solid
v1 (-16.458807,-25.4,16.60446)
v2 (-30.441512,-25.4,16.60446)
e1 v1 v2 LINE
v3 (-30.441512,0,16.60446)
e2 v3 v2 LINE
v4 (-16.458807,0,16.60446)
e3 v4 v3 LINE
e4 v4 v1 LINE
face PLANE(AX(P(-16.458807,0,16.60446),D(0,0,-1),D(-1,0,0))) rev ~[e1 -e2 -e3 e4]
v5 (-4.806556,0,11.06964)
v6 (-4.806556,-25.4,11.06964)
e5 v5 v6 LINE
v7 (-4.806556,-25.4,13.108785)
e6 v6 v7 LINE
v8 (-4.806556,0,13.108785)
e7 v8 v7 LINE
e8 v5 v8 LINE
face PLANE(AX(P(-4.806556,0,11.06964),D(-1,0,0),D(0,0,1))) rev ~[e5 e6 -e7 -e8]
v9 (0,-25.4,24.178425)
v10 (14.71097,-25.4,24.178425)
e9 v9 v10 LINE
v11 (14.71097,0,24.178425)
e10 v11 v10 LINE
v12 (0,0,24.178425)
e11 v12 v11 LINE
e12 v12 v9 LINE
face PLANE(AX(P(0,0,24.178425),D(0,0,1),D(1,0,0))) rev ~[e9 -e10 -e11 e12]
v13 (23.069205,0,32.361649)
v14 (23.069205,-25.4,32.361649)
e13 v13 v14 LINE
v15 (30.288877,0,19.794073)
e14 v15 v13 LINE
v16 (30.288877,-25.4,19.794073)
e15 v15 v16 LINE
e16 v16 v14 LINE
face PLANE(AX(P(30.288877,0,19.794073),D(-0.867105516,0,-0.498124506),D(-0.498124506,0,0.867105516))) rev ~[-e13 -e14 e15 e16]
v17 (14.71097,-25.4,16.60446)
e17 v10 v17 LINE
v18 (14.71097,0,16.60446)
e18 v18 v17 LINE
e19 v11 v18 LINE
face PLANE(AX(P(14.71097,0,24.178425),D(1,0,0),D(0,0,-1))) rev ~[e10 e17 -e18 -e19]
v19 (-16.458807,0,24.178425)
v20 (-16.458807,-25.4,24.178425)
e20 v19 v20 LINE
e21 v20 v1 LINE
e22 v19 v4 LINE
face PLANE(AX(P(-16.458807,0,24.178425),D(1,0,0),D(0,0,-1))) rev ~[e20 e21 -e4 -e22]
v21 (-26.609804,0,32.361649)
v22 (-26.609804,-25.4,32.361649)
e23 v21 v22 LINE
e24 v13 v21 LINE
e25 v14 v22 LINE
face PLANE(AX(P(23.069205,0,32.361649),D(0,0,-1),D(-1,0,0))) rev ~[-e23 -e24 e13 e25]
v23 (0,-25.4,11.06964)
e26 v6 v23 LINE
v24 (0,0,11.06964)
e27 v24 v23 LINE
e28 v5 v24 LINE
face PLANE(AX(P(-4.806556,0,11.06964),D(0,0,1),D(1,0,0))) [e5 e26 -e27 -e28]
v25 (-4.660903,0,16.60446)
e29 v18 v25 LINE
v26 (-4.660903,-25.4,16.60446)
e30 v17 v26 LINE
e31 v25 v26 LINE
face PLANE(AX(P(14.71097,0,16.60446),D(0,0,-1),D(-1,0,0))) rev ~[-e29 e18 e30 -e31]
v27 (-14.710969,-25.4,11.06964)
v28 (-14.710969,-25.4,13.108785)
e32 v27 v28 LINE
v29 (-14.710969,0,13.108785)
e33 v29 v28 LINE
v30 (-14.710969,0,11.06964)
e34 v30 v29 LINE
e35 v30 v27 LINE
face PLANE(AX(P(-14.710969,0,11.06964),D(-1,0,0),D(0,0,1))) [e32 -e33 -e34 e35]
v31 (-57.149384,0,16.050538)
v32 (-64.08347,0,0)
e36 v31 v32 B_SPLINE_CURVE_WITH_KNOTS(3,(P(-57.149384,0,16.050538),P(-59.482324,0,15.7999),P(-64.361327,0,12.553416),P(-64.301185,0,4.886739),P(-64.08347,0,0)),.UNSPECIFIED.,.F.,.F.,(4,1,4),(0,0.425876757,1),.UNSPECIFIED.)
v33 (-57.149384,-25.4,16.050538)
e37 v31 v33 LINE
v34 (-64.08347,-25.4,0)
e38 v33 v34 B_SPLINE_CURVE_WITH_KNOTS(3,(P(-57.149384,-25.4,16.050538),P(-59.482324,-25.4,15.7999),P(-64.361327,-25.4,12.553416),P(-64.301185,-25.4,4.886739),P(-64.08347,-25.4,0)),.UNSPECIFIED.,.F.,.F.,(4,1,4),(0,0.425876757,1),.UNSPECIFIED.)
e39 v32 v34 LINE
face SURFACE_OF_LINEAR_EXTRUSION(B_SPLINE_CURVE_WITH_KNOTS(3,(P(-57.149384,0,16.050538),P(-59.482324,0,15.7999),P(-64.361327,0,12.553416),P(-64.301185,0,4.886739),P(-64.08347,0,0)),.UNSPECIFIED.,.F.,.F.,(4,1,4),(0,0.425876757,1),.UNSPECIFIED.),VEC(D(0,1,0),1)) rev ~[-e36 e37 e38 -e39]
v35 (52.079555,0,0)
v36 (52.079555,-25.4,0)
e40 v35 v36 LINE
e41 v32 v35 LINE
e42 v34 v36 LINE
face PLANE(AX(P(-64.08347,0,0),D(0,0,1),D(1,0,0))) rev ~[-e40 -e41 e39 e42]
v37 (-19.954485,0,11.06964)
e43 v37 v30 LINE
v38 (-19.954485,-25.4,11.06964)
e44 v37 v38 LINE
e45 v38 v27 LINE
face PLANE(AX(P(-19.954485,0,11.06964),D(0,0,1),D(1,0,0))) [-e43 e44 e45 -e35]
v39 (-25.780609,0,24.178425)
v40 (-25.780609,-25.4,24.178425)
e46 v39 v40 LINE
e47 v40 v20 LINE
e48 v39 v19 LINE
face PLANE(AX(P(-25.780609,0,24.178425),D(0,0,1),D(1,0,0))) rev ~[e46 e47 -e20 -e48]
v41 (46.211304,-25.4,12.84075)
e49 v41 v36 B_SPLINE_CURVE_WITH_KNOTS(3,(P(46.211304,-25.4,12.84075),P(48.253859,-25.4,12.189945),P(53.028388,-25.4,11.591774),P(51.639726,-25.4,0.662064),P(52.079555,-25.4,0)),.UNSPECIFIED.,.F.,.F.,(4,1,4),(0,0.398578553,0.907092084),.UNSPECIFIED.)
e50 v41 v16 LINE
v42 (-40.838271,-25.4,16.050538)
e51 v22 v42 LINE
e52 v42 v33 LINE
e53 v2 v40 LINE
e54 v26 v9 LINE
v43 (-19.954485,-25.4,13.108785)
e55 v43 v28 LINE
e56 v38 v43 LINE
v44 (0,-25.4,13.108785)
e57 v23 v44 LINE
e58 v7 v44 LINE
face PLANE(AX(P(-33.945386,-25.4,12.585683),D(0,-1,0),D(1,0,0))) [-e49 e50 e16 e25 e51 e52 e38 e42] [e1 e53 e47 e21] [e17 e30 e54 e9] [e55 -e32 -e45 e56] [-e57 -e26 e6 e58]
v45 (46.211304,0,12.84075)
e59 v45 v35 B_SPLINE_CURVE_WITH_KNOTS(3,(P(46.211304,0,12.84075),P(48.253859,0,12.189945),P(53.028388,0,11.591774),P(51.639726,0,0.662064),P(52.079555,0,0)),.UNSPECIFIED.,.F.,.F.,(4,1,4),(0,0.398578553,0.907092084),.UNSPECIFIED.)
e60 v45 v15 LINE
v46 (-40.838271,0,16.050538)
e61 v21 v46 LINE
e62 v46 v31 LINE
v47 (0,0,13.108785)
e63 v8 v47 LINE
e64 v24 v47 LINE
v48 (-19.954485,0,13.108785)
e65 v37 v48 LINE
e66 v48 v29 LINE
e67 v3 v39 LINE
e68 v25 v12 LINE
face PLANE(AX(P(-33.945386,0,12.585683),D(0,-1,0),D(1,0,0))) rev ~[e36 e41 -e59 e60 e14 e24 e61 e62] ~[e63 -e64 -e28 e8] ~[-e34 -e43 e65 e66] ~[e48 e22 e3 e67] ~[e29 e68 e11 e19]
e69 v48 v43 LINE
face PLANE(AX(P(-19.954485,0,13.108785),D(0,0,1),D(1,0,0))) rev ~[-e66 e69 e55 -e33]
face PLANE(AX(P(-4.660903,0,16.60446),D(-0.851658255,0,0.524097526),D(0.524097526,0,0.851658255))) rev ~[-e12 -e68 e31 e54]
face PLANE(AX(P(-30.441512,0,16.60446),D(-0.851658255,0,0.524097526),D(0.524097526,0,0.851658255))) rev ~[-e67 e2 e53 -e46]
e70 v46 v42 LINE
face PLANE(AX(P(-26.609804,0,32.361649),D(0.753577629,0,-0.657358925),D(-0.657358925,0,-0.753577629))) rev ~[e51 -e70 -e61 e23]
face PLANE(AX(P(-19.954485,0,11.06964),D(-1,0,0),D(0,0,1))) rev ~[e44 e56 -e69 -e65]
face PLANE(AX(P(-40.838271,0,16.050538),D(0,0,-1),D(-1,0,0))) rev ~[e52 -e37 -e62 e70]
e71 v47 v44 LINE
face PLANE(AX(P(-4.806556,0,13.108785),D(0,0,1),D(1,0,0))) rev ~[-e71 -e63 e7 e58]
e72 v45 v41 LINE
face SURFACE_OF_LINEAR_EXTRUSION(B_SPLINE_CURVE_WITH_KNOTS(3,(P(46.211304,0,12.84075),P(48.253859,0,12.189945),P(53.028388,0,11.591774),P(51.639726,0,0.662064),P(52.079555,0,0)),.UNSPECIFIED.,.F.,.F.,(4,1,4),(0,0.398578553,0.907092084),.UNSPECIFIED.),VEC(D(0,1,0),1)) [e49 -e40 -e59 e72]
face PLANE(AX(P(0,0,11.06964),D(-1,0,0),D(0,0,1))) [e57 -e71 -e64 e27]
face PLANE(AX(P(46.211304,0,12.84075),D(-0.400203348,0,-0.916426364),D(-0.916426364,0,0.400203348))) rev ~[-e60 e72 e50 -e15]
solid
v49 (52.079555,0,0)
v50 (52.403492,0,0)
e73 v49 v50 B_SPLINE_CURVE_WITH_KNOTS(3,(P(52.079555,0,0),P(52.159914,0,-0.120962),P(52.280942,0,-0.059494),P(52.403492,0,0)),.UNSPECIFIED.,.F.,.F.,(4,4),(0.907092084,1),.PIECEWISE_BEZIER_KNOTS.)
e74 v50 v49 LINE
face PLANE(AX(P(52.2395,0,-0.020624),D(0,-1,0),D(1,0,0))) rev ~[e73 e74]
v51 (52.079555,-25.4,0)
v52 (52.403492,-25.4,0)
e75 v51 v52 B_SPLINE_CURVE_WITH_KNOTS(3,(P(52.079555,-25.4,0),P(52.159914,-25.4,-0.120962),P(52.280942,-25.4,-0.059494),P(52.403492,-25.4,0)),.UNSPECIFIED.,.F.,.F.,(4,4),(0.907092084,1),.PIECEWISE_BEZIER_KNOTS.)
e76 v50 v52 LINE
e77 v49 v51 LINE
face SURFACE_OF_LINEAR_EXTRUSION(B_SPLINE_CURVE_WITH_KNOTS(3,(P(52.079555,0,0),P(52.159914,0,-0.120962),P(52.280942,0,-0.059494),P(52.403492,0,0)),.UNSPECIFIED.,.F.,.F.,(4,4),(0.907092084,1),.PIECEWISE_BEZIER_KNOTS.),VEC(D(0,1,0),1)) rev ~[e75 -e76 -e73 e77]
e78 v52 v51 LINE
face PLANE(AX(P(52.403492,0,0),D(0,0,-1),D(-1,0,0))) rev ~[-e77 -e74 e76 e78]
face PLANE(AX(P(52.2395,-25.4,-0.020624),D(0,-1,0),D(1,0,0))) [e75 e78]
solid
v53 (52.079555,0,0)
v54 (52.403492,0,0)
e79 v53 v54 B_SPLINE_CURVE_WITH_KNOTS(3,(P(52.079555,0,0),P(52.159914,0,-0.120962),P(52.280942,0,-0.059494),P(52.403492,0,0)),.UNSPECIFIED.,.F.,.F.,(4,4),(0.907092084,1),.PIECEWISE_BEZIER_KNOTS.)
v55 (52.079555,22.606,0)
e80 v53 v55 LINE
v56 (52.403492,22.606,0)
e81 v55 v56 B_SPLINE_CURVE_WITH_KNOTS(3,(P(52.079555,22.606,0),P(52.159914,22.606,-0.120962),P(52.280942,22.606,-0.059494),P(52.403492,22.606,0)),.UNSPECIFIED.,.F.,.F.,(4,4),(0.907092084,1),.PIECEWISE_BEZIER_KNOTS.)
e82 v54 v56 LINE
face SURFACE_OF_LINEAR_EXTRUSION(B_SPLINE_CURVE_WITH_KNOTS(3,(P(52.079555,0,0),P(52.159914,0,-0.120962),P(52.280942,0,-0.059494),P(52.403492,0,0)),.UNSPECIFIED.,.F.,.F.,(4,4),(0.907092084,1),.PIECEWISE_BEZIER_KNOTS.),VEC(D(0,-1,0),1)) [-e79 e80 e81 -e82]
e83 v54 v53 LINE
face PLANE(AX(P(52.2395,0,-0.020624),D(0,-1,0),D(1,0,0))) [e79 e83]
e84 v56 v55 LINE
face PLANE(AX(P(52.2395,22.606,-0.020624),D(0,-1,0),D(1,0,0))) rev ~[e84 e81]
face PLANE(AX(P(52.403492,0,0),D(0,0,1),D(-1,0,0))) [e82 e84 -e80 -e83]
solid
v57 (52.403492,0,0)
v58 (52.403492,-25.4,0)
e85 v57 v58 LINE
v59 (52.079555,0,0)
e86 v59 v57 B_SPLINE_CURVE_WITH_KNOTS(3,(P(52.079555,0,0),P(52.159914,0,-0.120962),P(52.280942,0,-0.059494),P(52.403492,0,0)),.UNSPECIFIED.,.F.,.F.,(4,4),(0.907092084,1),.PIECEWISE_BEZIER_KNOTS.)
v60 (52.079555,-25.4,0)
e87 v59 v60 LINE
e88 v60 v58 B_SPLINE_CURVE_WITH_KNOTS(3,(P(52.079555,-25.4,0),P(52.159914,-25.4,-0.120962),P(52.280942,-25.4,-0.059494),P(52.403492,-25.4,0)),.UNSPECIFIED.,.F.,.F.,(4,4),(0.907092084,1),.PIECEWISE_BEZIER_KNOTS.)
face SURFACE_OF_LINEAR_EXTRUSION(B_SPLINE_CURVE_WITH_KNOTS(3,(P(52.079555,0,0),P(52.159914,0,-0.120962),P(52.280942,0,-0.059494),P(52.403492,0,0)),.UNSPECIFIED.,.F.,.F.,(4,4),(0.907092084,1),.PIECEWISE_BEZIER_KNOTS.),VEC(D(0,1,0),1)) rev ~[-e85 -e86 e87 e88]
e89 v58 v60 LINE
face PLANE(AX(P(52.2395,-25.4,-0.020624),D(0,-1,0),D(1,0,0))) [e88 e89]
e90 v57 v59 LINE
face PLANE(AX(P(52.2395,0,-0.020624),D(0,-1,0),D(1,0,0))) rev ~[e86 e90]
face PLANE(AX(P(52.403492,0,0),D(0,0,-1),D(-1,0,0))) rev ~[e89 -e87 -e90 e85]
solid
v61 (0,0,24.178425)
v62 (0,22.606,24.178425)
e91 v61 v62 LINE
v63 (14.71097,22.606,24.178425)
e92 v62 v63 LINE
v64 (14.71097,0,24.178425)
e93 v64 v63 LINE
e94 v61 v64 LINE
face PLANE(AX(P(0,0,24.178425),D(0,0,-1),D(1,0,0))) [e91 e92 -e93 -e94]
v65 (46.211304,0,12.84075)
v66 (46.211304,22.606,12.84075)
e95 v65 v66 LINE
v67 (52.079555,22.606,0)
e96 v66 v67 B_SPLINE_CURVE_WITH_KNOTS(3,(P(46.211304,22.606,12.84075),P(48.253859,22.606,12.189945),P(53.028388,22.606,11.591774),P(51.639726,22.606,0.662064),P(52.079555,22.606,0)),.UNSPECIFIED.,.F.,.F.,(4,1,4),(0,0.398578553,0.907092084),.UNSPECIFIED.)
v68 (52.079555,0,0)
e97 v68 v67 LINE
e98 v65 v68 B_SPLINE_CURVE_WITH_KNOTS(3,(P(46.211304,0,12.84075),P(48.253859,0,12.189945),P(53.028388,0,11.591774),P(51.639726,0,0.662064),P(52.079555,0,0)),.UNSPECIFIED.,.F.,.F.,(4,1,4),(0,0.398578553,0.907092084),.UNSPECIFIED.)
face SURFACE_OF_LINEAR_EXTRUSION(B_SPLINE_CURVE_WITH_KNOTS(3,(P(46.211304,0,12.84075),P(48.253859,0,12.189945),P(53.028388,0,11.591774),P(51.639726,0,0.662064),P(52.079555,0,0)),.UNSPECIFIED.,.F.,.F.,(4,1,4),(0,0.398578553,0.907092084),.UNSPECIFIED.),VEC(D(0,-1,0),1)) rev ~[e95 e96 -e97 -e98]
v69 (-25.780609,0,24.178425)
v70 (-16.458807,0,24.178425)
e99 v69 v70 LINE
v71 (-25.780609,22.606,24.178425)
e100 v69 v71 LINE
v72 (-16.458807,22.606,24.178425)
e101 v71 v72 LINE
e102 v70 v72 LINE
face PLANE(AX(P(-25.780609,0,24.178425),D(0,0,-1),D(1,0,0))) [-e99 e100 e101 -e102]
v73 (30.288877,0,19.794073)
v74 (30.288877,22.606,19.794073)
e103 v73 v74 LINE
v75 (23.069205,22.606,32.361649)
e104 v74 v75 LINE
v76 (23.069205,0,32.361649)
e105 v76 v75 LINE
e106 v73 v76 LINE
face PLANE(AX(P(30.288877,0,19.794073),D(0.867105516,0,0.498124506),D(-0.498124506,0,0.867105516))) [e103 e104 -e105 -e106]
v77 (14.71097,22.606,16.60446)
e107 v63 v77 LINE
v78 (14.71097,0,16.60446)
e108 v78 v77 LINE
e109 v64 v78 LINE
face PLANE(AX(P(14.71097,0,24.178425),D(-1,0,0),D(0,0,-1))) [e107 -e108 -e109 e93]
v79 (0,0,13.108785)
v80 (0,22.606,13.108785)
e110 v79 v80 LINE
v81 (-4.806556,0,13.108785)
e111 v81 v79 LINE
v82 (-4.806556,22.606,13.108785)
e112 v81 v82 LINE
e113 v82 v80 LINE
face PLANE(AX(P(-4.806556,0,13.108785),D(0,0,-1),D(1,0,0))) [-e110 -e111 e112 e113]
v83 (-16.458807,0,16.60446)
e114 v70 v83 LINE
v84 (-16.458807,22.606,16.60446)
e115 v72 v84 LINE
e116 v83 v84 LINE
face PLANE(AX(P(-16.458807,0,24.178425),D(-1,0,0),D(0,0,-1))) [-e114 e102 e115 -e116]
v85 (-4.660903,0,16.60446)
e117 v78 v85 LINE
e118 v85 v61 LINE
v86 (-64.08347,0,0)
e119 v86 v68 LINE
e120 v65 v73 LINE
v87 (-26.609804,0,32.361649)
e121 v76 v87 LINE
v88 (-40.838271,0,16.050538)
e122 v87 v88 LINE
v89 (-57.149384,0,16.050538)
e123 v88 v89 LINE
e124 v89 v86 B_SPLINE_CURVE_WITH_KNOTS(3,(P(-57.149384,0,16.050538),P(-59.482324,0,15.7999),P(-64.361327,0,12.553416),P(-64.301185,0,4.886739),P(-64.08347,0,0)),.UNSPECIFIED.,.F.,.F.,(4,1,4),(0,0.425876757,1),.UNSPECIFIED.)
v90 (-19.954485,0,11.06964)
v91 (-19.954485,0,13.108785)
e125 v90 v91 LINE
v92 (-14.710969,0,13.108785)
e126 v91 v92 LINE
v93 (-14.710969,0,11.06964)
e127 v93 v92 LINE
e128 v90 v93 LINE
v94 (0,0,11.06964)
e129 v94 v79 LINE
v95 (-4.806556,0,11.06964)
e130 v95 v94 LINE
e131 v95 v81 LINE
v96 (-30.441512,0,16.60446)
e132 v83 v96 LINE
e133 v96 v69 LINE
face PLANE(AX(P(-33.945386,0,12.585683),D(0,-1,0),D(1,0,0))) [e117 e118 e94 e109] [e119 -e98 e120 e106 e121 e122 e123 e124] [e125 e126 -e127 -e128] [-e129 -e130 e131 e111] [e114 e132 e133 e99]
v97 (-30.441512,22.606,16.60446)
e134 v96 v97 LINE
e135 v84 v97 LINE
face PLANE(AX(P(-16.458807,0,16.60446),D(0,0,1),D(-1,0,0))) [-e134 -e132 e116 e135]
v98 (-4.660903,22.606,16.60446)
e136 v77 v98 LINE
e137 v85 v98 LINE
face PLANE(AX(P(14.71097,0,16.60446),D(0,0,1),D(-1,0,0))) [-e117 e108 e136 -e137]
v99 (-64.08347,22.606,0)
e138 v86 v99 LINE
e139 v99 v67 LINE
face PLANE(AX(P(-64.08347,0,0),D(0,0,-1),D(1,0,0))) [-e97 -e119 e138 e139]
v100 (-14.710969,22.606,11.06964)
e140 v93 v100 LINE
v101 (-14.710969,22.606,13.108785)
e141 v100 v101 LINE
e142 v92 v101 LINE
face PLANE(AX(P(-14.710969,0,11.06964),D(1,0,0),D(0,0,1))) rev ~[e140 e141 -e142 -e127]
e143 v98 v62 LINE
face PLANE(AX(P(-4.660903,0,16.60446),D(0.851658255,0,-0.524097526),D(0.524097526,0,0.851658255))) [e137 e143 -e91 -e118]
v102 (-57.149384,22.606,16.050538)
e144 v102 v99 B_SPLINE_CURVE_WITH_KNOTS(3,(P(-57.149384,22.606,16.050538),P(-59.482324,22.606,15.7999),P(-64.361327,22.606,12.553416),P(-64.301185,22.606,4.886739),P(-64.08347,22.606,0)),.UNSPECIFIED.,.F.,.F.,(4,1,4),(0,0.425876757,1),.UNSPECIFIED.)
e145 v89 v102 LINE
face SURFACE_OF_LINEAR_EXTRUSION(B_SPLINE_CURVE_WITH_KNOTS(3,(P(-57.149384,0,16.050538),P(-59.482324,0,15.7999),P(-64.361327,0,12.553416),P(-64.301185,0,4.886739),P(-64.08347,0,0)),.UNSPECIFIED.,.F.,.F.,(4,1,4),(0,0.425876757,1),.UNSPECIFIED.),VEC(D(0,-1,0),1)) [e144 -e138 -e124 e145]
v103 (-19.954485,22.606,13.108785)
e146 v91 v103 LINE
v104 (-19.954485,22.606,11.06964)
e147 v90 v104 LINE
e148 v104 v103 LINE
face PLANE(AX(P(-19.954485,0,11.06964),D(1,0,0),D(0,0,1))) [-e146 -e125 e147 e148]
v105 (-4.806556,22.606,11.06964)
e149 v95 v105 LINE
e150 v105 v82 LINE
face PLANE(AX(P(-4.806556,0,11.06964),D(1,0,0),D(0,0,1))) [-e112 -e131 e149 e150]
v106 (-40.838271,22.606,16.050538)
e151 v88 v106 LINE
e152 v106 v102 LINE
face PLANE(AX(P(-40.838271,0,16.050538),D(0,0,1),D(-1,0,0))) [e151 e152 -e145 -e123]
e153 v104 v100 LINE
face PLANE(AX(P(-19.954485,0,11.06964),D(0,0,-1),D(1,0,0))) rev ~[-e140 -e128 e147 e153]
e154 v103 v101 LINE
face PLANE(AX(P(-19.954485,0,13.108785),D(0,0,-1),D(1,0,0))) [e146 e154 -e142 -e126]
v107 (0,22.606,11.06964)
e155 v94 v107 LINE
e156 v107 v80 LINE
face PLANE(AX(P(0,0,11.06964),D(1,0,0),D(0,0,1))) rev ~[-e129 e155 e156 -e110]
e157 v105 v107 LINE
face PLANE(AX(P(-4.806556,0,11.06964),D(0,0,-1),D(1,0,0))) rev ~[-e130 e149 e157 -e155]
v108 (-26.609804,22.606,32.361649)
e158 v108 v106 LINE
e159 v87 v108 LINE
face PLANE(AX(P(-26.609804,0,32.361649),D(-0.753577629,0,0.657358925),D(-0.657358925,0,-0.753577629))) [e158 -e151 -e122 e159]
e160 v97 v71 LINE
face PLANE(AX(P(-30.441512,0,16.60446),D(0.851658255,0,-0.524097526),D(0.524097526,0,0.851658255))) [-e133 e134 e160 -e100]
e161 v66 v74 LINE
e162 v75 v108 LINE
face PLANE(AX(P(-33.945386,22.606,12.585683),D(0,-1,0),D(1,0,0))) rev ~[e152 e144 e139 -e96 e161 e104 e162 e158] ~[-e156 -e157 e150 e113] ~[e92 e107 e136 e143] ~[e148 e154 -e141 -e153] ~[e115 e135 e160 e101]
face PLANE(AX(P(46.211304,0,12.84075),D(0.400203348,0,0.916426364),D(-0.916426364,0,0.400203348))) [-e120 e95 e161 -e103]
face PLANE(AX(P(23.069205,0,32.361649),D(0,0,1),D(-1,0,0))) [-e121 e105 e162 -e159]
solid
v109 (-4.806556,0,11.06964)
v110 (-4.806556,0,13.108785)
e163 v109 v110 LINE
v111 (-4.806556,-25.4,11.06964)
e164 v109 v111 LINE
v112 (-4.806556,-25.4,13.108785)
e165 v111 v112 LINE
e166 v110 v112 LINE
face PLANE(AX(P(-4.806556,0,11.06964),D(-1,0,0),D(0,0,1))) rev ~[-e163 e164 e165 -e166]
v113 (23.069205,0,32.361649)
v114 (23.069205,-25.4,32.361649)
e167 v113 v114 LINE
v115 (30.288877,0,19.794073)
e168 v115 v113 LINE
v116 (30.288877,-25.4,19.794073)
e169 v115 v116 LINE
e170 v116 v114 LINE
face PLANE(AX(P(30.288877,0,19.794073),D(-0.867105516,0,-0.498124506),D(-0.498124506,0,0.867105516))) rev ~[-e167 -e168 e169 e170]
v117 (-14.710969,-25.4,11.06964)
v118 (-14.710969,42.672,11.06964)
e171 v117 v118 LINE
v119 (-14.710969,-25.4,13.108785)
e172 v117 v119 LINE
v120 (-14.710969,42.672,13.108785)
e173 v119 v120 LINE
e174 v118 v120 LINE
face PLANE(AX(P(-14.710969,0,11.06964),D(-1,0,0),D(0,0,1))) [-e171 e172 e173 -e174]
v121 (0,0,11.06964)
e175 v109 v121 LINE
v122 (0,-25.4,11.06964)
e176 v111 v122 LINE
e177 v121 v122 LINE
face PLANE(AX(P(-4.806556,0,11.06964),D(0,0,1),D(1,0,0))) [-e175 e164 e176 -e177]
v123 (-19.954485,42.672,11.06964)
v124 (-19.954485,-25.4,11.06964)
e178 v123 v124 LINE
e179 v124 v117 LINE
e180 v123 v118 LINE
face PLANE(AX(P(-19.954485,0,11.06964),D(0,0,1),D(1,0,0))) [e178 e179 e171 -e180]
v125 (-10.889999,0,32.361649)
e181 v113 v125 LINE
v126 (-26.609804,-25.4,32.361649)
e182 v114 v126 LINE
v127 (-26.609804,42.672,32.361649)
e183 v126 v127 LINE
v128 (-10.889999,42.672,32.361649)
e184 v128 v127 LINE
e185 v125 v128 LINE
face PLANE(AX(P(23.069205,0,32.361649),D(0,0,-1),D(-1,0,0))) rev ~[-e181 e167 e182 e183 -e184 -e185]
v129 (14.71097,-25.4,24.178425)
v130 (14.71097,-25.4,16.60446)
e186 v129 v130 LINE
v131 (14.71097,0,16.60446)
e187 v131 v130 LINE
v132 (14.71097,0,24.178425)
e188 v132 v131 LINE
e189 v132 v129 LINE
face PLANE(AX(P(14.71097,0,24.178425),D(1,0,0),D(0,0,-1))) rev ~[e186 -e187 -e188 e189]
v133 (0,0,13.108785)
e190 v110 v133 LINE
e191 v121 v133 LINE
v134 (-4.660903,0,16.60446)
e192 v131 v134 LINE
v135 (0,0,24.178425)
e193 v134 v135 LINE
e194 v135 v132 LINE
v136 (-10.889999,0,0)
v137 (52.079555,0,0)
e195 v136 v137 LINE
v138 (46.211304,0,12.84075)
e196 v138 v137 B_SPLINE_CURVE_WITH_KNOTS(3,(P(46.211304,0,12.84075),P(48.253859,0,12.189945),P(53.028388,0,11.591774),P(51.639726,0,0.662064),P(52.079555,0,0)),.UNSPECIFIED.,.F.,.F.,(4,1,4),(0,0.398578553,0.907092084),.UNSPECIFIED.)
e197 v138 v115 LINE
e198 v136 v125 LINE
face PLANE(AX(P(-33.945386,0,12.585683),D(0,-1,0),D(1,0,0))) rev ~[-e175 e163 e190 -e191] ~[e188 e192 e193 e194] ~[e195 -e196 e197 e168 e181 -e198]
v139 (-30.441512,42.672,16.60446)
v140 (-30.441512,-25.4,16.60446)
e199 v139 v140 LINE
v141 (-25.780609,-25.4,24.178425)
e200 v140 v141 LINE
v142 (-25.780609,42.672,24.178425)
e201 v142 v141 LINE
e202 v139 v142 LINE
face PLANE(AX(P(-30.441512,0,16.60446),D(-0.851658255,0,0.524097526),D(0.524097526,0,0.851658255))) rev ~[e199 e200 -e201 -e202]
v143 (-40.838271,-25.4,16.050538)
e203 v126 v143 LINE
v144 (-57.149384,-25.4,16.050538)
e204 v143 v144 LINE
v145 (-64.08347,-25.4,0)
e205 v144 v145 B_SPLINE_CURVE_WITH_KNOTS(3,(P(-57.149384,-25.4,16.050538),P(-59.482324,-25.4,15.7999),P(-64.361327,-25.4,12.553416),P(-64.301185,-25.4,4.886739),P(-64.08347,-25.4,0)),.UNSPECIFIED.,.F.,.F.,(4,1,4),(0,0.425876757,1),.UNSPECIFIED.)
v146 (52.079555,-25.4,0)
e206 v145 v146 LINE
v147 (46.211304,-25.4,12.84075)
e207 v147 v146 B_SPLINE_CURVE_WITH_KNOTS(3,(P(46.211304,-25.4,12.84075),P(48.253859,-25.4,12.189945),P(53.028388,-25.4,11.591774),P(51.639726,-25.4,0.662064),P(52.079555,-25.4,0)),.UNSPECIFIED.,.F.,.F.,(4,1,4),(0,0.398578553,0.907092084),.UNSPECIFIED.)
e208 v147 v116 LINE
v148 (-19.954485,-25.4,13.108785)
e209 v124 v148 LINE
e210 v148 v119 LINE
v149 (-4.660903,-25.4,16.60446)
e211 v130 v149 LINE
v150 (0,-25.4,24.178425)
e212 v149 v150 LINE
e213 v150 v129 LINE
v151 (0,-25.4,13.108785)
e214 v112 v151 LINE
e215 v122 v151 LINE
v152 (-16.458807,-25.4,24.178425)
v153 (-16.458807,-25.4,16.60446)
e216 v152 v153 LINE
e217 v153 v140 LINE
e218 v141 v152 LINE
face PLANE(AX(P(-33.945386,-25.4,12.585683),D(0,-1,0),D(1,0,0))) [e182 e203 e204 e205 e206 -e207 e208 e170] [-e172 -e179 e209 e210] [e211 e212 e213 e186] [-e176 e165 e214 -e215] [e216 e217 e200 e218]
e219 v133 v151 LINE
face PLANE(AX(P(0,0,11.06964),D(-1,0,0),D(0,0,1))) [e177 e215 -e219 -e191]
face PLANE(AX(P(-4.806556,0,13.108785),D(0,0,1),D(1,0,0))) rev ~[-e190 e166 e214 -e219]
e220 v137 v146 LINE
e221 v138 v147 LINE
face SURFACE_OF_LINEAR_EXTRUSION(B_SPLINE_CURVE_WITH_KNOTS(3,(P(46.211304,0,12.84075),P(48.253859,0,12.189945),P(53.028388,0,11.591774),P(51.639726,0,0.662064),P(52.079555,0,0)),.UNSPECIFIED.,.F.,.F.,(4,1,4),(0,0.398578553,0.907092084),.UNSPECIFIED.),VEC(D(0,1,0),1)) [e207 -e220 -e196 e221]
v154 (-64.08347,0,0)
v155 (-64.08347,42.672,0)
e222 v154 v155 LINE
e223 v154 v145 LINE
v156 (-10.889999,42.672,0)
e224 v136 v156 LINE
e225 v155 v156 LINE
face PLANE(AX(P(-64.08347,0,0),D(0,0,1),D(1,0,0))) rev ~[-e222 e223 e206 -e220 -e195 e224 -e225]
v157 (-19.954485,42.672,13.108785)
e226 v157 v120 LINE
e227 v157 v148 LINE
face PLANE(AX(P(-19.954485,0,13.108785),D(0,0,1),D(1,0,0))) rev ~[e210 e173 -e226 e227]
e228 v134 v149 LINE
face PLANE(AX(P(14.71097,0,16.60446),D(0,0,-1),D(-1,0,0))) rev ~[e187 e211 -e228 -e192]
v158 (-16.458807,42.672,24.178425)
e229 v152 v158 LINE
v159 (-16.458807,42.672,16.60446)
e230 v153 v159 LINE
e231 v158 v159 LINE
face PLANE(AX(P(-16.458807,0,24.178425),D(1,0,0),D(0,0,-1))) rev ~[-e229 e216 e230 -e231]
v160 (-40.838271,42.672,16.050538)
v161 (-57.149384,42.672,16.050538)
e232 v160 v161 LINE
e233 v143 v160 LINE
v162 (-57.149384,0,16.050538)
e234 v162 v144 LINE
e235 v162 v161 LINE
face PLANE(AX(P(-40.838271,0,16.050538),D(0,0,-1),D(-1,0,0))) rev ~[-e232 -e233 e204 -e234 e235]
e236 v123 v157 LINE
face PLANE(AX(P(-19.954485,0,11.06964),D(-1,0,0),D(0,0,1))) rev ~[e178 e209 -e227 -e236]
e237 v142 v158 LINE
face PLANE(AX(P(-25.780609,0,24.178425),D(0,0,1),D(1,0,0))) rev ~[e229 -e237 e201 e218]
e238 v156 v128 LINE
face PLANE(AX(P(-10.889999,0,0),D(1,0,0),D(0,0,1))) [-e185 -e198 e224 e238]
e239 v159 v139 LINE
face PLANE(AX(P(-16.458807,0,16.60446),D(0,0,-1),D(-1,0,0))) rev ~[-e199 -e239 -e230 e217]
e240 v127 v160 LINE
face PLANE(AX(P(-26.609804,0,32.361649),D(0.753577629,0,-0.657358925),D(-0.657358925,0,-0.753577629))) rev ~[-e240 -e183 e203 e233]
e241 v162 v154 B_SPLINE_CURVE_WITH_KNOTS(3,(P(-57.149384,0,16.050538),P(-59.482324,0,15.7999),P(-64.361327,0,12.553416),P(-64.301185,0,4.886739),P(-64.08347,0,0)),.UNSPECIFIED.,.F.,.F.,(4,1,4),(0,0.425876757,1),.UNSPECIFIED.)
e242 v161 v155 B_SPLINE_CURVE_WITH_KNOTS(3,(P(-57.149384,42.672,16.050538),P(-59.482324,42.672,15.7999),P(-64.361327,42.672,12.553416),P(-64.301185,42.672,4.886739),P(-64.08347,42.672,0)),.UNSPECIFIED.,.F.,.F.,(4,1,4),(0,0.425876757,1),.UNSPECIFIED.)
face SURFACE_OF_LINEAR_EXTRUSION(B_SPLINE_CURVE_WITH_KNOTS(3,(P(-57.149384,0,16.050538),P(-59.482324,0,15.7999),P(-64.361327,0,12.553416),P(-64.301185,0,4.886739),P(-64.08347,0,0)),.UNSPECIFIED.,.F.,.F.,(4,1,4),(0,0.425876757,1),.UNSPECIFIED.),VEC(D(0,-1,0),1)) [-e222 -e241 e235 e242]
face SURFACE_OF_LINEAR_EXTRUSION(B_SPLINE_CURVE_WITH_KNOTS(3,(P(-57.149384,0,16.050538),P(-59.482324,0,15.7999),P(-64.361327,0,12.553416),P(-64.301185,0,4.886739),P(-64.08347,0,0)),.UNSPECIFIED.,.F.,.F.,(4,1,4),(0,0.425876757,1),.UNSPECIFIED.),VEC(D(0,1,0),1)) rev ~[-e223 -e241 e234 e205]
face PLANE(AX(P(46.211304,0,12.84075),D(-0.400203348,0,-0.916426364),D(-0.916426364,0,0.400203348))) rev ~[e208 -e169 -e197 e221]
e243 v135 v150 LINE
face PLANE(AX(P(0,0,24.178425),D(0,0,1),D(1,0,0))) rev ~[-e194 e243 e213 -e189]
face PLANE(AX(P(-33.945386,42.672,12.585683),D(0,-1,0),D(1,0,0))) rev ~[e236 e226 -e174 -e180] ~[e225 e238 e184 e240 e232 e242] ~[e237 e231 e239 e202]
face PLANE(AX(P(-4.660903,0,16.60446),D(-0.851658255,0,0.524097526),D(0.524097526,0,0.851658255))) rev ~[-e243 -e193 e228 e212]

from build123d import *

# Parameters (mm, degrees)
F0_W     = 5.2435156212
F0_H     = 2.0391447165
F1_DEPTH = 42.672
F2_DEPTH = 25.4
F0_W_2   = 4.8065559119
F3_DEPTH = 25.4
F4_DEPTH = 22.606


with BuildPart() as f1:
    # F0 (on Front) → F1 (new body)
    with BuildSketch(Plane.XZ):
        with BuildLine():
            Line((-40.8382713795, 16.0505380481), (-57.1493841708, 16.0505380481))
            add(Edge.make_bspline(
                [(-57.1493841708, 16.0505380481), (-59.4823244884, 15.7999000631), (-64.3613269577, 12.5534159504), (-64.3011848306, 4.8867385699), (-64.0834696427, 0)],
                knots=[0, 0, 0, 0, 0.425876757, 1, 1, 1, 1], degree=3))
            Line((-64.0834696427, 0), (-46.5223775801, 0))
            Line((-46.5223775801, 0), (-40.8382713795, 0))
            Line((-40.8382713795, 0), (-28.3736717173, 0))
            Line((-28.3736717173, 0), (-10.8899986371, 0))
            Line((-10.8899986371, 0), (-10.8899986371, 32.3616489768))
            Line((-10.8899986371, 32.3616489768), (-26.6098044863, 32.3616489768))
            Line((-26.6098044863, 32.3616489768), (-40.8382713795, 16.0505380481))
        make_face()
        with Locations((-17.3327269753, 12.0892126892)):
            Rectangle(F0_W, F0_H, mode=Mode.SUBTRACT)
        Polygon((-30.4415124678, 16.6044600514), (-25.7806094957, 24.1784253785), (-16.4588071117, 24.1784253785), (-16.4588071117, 16.6044600514), align=None, mode=Mode.SUBTRACT)
    extrude(amount=-F1_DEPTH)



with BuildPart() as f2:
    # F0 (on Front) → F2 (new body)
    with BuildSketch(Plane.XZ):
        with BuildLine():
            Line((52.4034920648, 0), (52.079555398, 0))
            add(Edge.make_bspline(
                [(52.079555398, 0), (52.1599144336, -0.1209623113), (52.2809419908, -0.0594935416), (52.4034920648, 0)],
                knots=[0.907092084, 0.907092084, 0.907092084, 0.907092084, 1, 1, 1, 1], degree=3))
        make_face()
    extrude(amount=F2_DEPTH)


with BuildPart() as f1_1:
    add(f1.part)

    add(f2.part)  # F2#2 merges F2
    # F0 (on Front) → F2, piece 2 (join)
    with BuildSketch(Plane.XZ):
        with BuildLine():
            Line((-40.8382713795, 16.0505380481), (-57.1493841708, 16.0505380481))
            add(Edge.make_bspline(
                [(-57.1493841708, 16.0505380481), (-59.4823244884, 15.7999000631), (-64.3613269577, 12.5534159504), (-64.3011848306, 4.8867385699), (-64.0834696427, 0)],
                knots=[0, 0, 0, 0, 0.425876757, 1, 1, 1, 1], degree=3))
            Line((-64.0834696427, 0), (-46.5223775801, 0))
            Line((-46.5223775801, 0), (-40.8382713795, 0))
            Line((-40.8382713795, 0), (-28.3736717173, 0))
            Line((-28.3736717173, 0), (-10.8899986371, 0))
            Line((-10.8899986371, 0), (-10.8899986371, 32.3616489768))
            Line((-10.8899986371, 32.3616489768), (-26.6098044863, 32.3616489768))
            Line((-26.6098044863, 32.3616489768), (-40.8382713795, 16.0505380481))
        make_face()
        with Locations((-17.3327269753, 12.0892126892)):
            Rectangle(F0_W, F0_H, mode=Mode.SUBTRACT)
        Polygon((-30.4415124678, 16.6044600514), (-25.7806094957, 24.1784253785), (-16.4588071117, 24.1784253785), (-16.4588071117, 16.6044600514), align=None, mode=Mode.SUBTRACT)
        with BuildLine():
            Line((23.0692047626, 32.3616489768), (-10.8899986371, 32.3616489768))
            Line((-10.8899986371, 32.3616489768), (-10.8899986371, 0))
            Line((-10.8899986371, 0), (0, 0))
            Line((0, 0), (31.5807702102, 0))
            Line((31.5807702102, 0), (52.079555398, 0))
            add(Edge.make_bspline(
                [(46.2113042618, 12.8407497437), (48.2538589952, 12.1899452229), (53.0283884486, 11.5917736788), (51.6397257395, 0.6620638447), (52.079555398, 0)],
                knots=[0, 0, 0, 0, 0.3985785526, 0.907092084, 0.907092084, 0.907092084, 0.907092084], degree=3))
            Line((46.2113042618, 12.8407497437), (30.2888769656, 19.7940729558))
            Line((30.2888769656, 19.7940729558), (23.0692047626, 32.3616489768))
        make_face()
        with Locations((-2.4032779559, 12.0892126892)):
            Rectangle(F0_W_2, F0_H, mode=Mode.SUBTRACT)
        Polygon((0, 24.1784253785), (14.7109700548, 24.1784253785), (14.7109700548, 16.6044600514), (-4.6609029722, 16.6044600514), align=None, mode=Mode.SUBTRACT)
    extrude(amount=F2_DEPTH)


with BuildPart() as f3:
    # F0 (on Front) → F3 (new body)
    with BuildSketch(Plane.XZ):
        with BuildLine():
            Line((52.4034920648, 0), (52.079555398, 0))
            add(Edge.make_bspline(
                [(52.079555398, 0), (52.1599144336, -0.1209623113), (52.2809419908, -0.0594935416), (52.4034920648, 0)],
                knots=[0.907092084, 0.907092084, 0.907092084, 0.907092084, 1, 1, 1, 1], degree=3))
        make_face()
    extrude(amount=F3_DEPTH)


with BuildPart() as f3b:
    # F0 (on Front) → F3, piece 2 (new body)
    with BuildSketch(Plane.XZ):
        with BuildLine():
            Line((-40.8382713795, 16.0505380481), (-57.1493841708, 16.0505380481))
            add(Edge.make_bspline(
                [(-57.1493841708, 16.0505380481), (-59.4823244884, 15.7999000631), (-64.3613269577, 12.5534159504), (-64.3011848306, 4.8867385699), (-64.0834696427, 0)],
                knots=[0, 0, 0, 0, 0.425876757, 1, 1, 1, 1], degree=3))
            Line((-64.0834696427, 0), (-46.5223775801, 0))
            Line((-46.5223775801, 0), (-40.8382713795, 0))
            Line((-40.8382713795, 0), (-28.3736717173, 0))
            Line((-28.3736717173, 0), (-10.8899986371, 0))
            Line((-10.8899986371, 0), (-10.8899986371, 32.3616489768))
            Line((-10.8899986371, 32.3616489768), (-26.6098044863, 32.3616489768))
            Line((-26.6098044863, 32.3616489768), (-40.8382713795, 16.0505380481))
        make_face()
        with Locations((-17.3327269753, 12.0892126892)):
            Rectangle(F0_W, F0_H, mode=Mode.SUBTRACT)
        Polygon((-30.4415124678, 16.6044600514), (-25.7806094957, 24.1784253785), (-16.4588071117, 24.1784253785), (-16.4588071117, 16.6044600514), align=None, mode=Mode.SUBTRACT)
        with BuildLine():
            Line((23.0692047626, 32.3616489768), (-10.8899986371, 32.3616489768))
            Line((-10.8899986371, 32.3616489768), (-10.8899986371, 0))
            Line((-10.8899986371, 0), (0, 0))
            Line((0, 0), (31.5807702102, 0))
            Line((31.5807702102, 0), (52.079555398, 0))
            add(Edge.make_bspline(
                [(46.2113042618, 12.8407497437), (48.2538589952, 12.1899452229), (53.0283884486, 11.5917736788), (51.6397257395, 0.6620638447), (52.079555398, 0)],
                knots=[0, 0, 0, 0, 0.3985785526, 0.907092084, 0.907092084, 0.907092084, 0.907092084], degree=3))
            Line((46.2113042618, 12.8407497437), (30.2888769656, 19.7940729558))
            Line((30.2888769656, 19.7940729558), (23.0692047626, 32.3616489768))
        make_face()
        with Locations((-2.4032779559, 12.0892126892)):
            Rectangle(F0_W_2, F0_H, mode=Mode.SUBTRACT)
        Polygon((0, 24.1784253785), (14.7109700548, 24.1784253785), (14.7109700548, 16.6044600514), (-4.6609029722, 16.6044600514), align=None, mode=Mode.SUBTRACT)
    extrude(amount=F3_DEPTH)


with BuildPart() as f4:
    # F0 (on Front) → F4 (new body)
    with BuildSketch(Plane.XZ):
        with BuildLine():
            Line((52.4034920648, 0), (52.079555398, 0))
            add(Edge.make_bspline(
                [(52.079555398, 0), (52.1599144336, -0.1209623113), (52.2809419908, -0.0594935416), (52.4034920648, 0)],
                knots=[0.907092084, 0.907092084, 0.907092084, 0.907092084, 1, 1, 1, 1], degree=3))
        make_face()
    extrude(amount=-F4_DEPTH)


with BuildPart() as f4b:
    # F0 (on Front) → F4, piece 2 (new body)
    with BuildSketch(Plane.XZ):
        with BuildLine():
            Line((-40.8382713795, 16.0505380481), (-57.1493841708, 16.0505380481))
            add(Edge.make_bspline(
                [(-57.1493841708, 16.0505380481), (-59.4823244884, 15.7999000631), (-64.3613269577, 12.5534159504), (-64.3011848306, 4.8867385699), (-64.0834696427, 0)],
                knots=[0, 0, 0, 0, 0.425876757, 1, 1, 1, 1], degree=3))
            Line((-64.0834696427, 0), (-46.5223775801, 0))
            Line((-46.5223775801, 0), (-40.8382713795, 0))
            Line((-40.8382713795, 0), (-28.3736717173, 0))
            Line((-28.3736717173, 0), (-10.8899986371, 0))
            Line((-10.8899986371, 0), (-10.8899986371, 32.3616489768))
            Line((-10.8899986371, 32.3616489768), (-26.6098044863, 32.3616489768))
            Line((-26.6098044863, 32.3616489768), (-40.8382713795, 16.0505380481))
        make_face()
        with Locations((-17.3327269753, 12.0892126892)):
            Rectangle(F0_W, F0_H, mode=Mode.SUBTRACT)
        Polygon((-30.4415124678, 16.6044600514), (-25.7806094957, 24.1784253785), (-16.4588071117, 24.1784253785), (-16.4588071117, 16.6044600514), align=None, mode=Mode.SUBTRACT)
        with BuildLine():
            Line((23.0692047626, 32.3616489768), (-10.8899986371, 32.3616489768))
            Line((-10.8899986371, 32.3616489768), (-10.8899986371, 0))
            Line((-10.8899986371, 0), (0, 0))
            Line((0, 0), (31.5807702102, 0))
            Line((31.5807702102, 0), (52.079555398, 0))
            add(Edge.make_bspline(
                [(46.2113042618, 12.8407497437), (48.2538589952, 12.1899452229), (53.0283884486, 11.5917736788), (51.6397257395, 0.6620638447), (52.079555398, 0)],
                knots=[0, 0, 0, 0, 0.3985785526, 0.907092084, 0.907092084, 0.907092084, 0.907092084], degree=3))
            Line((46.2113042618, 12.8407497437), (30.2888769656, 19.7940729558))
            Line((30.2888769656, 19.7940729558), (23.0692047626, 32.3616489768))
        make_face()
        with Locations((-2.4032779559, 12.0892126892)):
            Rectangle(F0_W_2, F0_H, mode=Mode.SUBTRACT)
        Polygon((0, 24.1784253785), (14.7109700548, 24.1784253785), (14.7109700548, 16.6044600514), (-4.6609029722, 16.6044600514), align=None, mode=Mode.SUBTRACT)
    extrude(amount=-F4_DEPTH)


solid = Compound([f1_1.part, f3.part, f3b.part, f4.part, f4b.part])
